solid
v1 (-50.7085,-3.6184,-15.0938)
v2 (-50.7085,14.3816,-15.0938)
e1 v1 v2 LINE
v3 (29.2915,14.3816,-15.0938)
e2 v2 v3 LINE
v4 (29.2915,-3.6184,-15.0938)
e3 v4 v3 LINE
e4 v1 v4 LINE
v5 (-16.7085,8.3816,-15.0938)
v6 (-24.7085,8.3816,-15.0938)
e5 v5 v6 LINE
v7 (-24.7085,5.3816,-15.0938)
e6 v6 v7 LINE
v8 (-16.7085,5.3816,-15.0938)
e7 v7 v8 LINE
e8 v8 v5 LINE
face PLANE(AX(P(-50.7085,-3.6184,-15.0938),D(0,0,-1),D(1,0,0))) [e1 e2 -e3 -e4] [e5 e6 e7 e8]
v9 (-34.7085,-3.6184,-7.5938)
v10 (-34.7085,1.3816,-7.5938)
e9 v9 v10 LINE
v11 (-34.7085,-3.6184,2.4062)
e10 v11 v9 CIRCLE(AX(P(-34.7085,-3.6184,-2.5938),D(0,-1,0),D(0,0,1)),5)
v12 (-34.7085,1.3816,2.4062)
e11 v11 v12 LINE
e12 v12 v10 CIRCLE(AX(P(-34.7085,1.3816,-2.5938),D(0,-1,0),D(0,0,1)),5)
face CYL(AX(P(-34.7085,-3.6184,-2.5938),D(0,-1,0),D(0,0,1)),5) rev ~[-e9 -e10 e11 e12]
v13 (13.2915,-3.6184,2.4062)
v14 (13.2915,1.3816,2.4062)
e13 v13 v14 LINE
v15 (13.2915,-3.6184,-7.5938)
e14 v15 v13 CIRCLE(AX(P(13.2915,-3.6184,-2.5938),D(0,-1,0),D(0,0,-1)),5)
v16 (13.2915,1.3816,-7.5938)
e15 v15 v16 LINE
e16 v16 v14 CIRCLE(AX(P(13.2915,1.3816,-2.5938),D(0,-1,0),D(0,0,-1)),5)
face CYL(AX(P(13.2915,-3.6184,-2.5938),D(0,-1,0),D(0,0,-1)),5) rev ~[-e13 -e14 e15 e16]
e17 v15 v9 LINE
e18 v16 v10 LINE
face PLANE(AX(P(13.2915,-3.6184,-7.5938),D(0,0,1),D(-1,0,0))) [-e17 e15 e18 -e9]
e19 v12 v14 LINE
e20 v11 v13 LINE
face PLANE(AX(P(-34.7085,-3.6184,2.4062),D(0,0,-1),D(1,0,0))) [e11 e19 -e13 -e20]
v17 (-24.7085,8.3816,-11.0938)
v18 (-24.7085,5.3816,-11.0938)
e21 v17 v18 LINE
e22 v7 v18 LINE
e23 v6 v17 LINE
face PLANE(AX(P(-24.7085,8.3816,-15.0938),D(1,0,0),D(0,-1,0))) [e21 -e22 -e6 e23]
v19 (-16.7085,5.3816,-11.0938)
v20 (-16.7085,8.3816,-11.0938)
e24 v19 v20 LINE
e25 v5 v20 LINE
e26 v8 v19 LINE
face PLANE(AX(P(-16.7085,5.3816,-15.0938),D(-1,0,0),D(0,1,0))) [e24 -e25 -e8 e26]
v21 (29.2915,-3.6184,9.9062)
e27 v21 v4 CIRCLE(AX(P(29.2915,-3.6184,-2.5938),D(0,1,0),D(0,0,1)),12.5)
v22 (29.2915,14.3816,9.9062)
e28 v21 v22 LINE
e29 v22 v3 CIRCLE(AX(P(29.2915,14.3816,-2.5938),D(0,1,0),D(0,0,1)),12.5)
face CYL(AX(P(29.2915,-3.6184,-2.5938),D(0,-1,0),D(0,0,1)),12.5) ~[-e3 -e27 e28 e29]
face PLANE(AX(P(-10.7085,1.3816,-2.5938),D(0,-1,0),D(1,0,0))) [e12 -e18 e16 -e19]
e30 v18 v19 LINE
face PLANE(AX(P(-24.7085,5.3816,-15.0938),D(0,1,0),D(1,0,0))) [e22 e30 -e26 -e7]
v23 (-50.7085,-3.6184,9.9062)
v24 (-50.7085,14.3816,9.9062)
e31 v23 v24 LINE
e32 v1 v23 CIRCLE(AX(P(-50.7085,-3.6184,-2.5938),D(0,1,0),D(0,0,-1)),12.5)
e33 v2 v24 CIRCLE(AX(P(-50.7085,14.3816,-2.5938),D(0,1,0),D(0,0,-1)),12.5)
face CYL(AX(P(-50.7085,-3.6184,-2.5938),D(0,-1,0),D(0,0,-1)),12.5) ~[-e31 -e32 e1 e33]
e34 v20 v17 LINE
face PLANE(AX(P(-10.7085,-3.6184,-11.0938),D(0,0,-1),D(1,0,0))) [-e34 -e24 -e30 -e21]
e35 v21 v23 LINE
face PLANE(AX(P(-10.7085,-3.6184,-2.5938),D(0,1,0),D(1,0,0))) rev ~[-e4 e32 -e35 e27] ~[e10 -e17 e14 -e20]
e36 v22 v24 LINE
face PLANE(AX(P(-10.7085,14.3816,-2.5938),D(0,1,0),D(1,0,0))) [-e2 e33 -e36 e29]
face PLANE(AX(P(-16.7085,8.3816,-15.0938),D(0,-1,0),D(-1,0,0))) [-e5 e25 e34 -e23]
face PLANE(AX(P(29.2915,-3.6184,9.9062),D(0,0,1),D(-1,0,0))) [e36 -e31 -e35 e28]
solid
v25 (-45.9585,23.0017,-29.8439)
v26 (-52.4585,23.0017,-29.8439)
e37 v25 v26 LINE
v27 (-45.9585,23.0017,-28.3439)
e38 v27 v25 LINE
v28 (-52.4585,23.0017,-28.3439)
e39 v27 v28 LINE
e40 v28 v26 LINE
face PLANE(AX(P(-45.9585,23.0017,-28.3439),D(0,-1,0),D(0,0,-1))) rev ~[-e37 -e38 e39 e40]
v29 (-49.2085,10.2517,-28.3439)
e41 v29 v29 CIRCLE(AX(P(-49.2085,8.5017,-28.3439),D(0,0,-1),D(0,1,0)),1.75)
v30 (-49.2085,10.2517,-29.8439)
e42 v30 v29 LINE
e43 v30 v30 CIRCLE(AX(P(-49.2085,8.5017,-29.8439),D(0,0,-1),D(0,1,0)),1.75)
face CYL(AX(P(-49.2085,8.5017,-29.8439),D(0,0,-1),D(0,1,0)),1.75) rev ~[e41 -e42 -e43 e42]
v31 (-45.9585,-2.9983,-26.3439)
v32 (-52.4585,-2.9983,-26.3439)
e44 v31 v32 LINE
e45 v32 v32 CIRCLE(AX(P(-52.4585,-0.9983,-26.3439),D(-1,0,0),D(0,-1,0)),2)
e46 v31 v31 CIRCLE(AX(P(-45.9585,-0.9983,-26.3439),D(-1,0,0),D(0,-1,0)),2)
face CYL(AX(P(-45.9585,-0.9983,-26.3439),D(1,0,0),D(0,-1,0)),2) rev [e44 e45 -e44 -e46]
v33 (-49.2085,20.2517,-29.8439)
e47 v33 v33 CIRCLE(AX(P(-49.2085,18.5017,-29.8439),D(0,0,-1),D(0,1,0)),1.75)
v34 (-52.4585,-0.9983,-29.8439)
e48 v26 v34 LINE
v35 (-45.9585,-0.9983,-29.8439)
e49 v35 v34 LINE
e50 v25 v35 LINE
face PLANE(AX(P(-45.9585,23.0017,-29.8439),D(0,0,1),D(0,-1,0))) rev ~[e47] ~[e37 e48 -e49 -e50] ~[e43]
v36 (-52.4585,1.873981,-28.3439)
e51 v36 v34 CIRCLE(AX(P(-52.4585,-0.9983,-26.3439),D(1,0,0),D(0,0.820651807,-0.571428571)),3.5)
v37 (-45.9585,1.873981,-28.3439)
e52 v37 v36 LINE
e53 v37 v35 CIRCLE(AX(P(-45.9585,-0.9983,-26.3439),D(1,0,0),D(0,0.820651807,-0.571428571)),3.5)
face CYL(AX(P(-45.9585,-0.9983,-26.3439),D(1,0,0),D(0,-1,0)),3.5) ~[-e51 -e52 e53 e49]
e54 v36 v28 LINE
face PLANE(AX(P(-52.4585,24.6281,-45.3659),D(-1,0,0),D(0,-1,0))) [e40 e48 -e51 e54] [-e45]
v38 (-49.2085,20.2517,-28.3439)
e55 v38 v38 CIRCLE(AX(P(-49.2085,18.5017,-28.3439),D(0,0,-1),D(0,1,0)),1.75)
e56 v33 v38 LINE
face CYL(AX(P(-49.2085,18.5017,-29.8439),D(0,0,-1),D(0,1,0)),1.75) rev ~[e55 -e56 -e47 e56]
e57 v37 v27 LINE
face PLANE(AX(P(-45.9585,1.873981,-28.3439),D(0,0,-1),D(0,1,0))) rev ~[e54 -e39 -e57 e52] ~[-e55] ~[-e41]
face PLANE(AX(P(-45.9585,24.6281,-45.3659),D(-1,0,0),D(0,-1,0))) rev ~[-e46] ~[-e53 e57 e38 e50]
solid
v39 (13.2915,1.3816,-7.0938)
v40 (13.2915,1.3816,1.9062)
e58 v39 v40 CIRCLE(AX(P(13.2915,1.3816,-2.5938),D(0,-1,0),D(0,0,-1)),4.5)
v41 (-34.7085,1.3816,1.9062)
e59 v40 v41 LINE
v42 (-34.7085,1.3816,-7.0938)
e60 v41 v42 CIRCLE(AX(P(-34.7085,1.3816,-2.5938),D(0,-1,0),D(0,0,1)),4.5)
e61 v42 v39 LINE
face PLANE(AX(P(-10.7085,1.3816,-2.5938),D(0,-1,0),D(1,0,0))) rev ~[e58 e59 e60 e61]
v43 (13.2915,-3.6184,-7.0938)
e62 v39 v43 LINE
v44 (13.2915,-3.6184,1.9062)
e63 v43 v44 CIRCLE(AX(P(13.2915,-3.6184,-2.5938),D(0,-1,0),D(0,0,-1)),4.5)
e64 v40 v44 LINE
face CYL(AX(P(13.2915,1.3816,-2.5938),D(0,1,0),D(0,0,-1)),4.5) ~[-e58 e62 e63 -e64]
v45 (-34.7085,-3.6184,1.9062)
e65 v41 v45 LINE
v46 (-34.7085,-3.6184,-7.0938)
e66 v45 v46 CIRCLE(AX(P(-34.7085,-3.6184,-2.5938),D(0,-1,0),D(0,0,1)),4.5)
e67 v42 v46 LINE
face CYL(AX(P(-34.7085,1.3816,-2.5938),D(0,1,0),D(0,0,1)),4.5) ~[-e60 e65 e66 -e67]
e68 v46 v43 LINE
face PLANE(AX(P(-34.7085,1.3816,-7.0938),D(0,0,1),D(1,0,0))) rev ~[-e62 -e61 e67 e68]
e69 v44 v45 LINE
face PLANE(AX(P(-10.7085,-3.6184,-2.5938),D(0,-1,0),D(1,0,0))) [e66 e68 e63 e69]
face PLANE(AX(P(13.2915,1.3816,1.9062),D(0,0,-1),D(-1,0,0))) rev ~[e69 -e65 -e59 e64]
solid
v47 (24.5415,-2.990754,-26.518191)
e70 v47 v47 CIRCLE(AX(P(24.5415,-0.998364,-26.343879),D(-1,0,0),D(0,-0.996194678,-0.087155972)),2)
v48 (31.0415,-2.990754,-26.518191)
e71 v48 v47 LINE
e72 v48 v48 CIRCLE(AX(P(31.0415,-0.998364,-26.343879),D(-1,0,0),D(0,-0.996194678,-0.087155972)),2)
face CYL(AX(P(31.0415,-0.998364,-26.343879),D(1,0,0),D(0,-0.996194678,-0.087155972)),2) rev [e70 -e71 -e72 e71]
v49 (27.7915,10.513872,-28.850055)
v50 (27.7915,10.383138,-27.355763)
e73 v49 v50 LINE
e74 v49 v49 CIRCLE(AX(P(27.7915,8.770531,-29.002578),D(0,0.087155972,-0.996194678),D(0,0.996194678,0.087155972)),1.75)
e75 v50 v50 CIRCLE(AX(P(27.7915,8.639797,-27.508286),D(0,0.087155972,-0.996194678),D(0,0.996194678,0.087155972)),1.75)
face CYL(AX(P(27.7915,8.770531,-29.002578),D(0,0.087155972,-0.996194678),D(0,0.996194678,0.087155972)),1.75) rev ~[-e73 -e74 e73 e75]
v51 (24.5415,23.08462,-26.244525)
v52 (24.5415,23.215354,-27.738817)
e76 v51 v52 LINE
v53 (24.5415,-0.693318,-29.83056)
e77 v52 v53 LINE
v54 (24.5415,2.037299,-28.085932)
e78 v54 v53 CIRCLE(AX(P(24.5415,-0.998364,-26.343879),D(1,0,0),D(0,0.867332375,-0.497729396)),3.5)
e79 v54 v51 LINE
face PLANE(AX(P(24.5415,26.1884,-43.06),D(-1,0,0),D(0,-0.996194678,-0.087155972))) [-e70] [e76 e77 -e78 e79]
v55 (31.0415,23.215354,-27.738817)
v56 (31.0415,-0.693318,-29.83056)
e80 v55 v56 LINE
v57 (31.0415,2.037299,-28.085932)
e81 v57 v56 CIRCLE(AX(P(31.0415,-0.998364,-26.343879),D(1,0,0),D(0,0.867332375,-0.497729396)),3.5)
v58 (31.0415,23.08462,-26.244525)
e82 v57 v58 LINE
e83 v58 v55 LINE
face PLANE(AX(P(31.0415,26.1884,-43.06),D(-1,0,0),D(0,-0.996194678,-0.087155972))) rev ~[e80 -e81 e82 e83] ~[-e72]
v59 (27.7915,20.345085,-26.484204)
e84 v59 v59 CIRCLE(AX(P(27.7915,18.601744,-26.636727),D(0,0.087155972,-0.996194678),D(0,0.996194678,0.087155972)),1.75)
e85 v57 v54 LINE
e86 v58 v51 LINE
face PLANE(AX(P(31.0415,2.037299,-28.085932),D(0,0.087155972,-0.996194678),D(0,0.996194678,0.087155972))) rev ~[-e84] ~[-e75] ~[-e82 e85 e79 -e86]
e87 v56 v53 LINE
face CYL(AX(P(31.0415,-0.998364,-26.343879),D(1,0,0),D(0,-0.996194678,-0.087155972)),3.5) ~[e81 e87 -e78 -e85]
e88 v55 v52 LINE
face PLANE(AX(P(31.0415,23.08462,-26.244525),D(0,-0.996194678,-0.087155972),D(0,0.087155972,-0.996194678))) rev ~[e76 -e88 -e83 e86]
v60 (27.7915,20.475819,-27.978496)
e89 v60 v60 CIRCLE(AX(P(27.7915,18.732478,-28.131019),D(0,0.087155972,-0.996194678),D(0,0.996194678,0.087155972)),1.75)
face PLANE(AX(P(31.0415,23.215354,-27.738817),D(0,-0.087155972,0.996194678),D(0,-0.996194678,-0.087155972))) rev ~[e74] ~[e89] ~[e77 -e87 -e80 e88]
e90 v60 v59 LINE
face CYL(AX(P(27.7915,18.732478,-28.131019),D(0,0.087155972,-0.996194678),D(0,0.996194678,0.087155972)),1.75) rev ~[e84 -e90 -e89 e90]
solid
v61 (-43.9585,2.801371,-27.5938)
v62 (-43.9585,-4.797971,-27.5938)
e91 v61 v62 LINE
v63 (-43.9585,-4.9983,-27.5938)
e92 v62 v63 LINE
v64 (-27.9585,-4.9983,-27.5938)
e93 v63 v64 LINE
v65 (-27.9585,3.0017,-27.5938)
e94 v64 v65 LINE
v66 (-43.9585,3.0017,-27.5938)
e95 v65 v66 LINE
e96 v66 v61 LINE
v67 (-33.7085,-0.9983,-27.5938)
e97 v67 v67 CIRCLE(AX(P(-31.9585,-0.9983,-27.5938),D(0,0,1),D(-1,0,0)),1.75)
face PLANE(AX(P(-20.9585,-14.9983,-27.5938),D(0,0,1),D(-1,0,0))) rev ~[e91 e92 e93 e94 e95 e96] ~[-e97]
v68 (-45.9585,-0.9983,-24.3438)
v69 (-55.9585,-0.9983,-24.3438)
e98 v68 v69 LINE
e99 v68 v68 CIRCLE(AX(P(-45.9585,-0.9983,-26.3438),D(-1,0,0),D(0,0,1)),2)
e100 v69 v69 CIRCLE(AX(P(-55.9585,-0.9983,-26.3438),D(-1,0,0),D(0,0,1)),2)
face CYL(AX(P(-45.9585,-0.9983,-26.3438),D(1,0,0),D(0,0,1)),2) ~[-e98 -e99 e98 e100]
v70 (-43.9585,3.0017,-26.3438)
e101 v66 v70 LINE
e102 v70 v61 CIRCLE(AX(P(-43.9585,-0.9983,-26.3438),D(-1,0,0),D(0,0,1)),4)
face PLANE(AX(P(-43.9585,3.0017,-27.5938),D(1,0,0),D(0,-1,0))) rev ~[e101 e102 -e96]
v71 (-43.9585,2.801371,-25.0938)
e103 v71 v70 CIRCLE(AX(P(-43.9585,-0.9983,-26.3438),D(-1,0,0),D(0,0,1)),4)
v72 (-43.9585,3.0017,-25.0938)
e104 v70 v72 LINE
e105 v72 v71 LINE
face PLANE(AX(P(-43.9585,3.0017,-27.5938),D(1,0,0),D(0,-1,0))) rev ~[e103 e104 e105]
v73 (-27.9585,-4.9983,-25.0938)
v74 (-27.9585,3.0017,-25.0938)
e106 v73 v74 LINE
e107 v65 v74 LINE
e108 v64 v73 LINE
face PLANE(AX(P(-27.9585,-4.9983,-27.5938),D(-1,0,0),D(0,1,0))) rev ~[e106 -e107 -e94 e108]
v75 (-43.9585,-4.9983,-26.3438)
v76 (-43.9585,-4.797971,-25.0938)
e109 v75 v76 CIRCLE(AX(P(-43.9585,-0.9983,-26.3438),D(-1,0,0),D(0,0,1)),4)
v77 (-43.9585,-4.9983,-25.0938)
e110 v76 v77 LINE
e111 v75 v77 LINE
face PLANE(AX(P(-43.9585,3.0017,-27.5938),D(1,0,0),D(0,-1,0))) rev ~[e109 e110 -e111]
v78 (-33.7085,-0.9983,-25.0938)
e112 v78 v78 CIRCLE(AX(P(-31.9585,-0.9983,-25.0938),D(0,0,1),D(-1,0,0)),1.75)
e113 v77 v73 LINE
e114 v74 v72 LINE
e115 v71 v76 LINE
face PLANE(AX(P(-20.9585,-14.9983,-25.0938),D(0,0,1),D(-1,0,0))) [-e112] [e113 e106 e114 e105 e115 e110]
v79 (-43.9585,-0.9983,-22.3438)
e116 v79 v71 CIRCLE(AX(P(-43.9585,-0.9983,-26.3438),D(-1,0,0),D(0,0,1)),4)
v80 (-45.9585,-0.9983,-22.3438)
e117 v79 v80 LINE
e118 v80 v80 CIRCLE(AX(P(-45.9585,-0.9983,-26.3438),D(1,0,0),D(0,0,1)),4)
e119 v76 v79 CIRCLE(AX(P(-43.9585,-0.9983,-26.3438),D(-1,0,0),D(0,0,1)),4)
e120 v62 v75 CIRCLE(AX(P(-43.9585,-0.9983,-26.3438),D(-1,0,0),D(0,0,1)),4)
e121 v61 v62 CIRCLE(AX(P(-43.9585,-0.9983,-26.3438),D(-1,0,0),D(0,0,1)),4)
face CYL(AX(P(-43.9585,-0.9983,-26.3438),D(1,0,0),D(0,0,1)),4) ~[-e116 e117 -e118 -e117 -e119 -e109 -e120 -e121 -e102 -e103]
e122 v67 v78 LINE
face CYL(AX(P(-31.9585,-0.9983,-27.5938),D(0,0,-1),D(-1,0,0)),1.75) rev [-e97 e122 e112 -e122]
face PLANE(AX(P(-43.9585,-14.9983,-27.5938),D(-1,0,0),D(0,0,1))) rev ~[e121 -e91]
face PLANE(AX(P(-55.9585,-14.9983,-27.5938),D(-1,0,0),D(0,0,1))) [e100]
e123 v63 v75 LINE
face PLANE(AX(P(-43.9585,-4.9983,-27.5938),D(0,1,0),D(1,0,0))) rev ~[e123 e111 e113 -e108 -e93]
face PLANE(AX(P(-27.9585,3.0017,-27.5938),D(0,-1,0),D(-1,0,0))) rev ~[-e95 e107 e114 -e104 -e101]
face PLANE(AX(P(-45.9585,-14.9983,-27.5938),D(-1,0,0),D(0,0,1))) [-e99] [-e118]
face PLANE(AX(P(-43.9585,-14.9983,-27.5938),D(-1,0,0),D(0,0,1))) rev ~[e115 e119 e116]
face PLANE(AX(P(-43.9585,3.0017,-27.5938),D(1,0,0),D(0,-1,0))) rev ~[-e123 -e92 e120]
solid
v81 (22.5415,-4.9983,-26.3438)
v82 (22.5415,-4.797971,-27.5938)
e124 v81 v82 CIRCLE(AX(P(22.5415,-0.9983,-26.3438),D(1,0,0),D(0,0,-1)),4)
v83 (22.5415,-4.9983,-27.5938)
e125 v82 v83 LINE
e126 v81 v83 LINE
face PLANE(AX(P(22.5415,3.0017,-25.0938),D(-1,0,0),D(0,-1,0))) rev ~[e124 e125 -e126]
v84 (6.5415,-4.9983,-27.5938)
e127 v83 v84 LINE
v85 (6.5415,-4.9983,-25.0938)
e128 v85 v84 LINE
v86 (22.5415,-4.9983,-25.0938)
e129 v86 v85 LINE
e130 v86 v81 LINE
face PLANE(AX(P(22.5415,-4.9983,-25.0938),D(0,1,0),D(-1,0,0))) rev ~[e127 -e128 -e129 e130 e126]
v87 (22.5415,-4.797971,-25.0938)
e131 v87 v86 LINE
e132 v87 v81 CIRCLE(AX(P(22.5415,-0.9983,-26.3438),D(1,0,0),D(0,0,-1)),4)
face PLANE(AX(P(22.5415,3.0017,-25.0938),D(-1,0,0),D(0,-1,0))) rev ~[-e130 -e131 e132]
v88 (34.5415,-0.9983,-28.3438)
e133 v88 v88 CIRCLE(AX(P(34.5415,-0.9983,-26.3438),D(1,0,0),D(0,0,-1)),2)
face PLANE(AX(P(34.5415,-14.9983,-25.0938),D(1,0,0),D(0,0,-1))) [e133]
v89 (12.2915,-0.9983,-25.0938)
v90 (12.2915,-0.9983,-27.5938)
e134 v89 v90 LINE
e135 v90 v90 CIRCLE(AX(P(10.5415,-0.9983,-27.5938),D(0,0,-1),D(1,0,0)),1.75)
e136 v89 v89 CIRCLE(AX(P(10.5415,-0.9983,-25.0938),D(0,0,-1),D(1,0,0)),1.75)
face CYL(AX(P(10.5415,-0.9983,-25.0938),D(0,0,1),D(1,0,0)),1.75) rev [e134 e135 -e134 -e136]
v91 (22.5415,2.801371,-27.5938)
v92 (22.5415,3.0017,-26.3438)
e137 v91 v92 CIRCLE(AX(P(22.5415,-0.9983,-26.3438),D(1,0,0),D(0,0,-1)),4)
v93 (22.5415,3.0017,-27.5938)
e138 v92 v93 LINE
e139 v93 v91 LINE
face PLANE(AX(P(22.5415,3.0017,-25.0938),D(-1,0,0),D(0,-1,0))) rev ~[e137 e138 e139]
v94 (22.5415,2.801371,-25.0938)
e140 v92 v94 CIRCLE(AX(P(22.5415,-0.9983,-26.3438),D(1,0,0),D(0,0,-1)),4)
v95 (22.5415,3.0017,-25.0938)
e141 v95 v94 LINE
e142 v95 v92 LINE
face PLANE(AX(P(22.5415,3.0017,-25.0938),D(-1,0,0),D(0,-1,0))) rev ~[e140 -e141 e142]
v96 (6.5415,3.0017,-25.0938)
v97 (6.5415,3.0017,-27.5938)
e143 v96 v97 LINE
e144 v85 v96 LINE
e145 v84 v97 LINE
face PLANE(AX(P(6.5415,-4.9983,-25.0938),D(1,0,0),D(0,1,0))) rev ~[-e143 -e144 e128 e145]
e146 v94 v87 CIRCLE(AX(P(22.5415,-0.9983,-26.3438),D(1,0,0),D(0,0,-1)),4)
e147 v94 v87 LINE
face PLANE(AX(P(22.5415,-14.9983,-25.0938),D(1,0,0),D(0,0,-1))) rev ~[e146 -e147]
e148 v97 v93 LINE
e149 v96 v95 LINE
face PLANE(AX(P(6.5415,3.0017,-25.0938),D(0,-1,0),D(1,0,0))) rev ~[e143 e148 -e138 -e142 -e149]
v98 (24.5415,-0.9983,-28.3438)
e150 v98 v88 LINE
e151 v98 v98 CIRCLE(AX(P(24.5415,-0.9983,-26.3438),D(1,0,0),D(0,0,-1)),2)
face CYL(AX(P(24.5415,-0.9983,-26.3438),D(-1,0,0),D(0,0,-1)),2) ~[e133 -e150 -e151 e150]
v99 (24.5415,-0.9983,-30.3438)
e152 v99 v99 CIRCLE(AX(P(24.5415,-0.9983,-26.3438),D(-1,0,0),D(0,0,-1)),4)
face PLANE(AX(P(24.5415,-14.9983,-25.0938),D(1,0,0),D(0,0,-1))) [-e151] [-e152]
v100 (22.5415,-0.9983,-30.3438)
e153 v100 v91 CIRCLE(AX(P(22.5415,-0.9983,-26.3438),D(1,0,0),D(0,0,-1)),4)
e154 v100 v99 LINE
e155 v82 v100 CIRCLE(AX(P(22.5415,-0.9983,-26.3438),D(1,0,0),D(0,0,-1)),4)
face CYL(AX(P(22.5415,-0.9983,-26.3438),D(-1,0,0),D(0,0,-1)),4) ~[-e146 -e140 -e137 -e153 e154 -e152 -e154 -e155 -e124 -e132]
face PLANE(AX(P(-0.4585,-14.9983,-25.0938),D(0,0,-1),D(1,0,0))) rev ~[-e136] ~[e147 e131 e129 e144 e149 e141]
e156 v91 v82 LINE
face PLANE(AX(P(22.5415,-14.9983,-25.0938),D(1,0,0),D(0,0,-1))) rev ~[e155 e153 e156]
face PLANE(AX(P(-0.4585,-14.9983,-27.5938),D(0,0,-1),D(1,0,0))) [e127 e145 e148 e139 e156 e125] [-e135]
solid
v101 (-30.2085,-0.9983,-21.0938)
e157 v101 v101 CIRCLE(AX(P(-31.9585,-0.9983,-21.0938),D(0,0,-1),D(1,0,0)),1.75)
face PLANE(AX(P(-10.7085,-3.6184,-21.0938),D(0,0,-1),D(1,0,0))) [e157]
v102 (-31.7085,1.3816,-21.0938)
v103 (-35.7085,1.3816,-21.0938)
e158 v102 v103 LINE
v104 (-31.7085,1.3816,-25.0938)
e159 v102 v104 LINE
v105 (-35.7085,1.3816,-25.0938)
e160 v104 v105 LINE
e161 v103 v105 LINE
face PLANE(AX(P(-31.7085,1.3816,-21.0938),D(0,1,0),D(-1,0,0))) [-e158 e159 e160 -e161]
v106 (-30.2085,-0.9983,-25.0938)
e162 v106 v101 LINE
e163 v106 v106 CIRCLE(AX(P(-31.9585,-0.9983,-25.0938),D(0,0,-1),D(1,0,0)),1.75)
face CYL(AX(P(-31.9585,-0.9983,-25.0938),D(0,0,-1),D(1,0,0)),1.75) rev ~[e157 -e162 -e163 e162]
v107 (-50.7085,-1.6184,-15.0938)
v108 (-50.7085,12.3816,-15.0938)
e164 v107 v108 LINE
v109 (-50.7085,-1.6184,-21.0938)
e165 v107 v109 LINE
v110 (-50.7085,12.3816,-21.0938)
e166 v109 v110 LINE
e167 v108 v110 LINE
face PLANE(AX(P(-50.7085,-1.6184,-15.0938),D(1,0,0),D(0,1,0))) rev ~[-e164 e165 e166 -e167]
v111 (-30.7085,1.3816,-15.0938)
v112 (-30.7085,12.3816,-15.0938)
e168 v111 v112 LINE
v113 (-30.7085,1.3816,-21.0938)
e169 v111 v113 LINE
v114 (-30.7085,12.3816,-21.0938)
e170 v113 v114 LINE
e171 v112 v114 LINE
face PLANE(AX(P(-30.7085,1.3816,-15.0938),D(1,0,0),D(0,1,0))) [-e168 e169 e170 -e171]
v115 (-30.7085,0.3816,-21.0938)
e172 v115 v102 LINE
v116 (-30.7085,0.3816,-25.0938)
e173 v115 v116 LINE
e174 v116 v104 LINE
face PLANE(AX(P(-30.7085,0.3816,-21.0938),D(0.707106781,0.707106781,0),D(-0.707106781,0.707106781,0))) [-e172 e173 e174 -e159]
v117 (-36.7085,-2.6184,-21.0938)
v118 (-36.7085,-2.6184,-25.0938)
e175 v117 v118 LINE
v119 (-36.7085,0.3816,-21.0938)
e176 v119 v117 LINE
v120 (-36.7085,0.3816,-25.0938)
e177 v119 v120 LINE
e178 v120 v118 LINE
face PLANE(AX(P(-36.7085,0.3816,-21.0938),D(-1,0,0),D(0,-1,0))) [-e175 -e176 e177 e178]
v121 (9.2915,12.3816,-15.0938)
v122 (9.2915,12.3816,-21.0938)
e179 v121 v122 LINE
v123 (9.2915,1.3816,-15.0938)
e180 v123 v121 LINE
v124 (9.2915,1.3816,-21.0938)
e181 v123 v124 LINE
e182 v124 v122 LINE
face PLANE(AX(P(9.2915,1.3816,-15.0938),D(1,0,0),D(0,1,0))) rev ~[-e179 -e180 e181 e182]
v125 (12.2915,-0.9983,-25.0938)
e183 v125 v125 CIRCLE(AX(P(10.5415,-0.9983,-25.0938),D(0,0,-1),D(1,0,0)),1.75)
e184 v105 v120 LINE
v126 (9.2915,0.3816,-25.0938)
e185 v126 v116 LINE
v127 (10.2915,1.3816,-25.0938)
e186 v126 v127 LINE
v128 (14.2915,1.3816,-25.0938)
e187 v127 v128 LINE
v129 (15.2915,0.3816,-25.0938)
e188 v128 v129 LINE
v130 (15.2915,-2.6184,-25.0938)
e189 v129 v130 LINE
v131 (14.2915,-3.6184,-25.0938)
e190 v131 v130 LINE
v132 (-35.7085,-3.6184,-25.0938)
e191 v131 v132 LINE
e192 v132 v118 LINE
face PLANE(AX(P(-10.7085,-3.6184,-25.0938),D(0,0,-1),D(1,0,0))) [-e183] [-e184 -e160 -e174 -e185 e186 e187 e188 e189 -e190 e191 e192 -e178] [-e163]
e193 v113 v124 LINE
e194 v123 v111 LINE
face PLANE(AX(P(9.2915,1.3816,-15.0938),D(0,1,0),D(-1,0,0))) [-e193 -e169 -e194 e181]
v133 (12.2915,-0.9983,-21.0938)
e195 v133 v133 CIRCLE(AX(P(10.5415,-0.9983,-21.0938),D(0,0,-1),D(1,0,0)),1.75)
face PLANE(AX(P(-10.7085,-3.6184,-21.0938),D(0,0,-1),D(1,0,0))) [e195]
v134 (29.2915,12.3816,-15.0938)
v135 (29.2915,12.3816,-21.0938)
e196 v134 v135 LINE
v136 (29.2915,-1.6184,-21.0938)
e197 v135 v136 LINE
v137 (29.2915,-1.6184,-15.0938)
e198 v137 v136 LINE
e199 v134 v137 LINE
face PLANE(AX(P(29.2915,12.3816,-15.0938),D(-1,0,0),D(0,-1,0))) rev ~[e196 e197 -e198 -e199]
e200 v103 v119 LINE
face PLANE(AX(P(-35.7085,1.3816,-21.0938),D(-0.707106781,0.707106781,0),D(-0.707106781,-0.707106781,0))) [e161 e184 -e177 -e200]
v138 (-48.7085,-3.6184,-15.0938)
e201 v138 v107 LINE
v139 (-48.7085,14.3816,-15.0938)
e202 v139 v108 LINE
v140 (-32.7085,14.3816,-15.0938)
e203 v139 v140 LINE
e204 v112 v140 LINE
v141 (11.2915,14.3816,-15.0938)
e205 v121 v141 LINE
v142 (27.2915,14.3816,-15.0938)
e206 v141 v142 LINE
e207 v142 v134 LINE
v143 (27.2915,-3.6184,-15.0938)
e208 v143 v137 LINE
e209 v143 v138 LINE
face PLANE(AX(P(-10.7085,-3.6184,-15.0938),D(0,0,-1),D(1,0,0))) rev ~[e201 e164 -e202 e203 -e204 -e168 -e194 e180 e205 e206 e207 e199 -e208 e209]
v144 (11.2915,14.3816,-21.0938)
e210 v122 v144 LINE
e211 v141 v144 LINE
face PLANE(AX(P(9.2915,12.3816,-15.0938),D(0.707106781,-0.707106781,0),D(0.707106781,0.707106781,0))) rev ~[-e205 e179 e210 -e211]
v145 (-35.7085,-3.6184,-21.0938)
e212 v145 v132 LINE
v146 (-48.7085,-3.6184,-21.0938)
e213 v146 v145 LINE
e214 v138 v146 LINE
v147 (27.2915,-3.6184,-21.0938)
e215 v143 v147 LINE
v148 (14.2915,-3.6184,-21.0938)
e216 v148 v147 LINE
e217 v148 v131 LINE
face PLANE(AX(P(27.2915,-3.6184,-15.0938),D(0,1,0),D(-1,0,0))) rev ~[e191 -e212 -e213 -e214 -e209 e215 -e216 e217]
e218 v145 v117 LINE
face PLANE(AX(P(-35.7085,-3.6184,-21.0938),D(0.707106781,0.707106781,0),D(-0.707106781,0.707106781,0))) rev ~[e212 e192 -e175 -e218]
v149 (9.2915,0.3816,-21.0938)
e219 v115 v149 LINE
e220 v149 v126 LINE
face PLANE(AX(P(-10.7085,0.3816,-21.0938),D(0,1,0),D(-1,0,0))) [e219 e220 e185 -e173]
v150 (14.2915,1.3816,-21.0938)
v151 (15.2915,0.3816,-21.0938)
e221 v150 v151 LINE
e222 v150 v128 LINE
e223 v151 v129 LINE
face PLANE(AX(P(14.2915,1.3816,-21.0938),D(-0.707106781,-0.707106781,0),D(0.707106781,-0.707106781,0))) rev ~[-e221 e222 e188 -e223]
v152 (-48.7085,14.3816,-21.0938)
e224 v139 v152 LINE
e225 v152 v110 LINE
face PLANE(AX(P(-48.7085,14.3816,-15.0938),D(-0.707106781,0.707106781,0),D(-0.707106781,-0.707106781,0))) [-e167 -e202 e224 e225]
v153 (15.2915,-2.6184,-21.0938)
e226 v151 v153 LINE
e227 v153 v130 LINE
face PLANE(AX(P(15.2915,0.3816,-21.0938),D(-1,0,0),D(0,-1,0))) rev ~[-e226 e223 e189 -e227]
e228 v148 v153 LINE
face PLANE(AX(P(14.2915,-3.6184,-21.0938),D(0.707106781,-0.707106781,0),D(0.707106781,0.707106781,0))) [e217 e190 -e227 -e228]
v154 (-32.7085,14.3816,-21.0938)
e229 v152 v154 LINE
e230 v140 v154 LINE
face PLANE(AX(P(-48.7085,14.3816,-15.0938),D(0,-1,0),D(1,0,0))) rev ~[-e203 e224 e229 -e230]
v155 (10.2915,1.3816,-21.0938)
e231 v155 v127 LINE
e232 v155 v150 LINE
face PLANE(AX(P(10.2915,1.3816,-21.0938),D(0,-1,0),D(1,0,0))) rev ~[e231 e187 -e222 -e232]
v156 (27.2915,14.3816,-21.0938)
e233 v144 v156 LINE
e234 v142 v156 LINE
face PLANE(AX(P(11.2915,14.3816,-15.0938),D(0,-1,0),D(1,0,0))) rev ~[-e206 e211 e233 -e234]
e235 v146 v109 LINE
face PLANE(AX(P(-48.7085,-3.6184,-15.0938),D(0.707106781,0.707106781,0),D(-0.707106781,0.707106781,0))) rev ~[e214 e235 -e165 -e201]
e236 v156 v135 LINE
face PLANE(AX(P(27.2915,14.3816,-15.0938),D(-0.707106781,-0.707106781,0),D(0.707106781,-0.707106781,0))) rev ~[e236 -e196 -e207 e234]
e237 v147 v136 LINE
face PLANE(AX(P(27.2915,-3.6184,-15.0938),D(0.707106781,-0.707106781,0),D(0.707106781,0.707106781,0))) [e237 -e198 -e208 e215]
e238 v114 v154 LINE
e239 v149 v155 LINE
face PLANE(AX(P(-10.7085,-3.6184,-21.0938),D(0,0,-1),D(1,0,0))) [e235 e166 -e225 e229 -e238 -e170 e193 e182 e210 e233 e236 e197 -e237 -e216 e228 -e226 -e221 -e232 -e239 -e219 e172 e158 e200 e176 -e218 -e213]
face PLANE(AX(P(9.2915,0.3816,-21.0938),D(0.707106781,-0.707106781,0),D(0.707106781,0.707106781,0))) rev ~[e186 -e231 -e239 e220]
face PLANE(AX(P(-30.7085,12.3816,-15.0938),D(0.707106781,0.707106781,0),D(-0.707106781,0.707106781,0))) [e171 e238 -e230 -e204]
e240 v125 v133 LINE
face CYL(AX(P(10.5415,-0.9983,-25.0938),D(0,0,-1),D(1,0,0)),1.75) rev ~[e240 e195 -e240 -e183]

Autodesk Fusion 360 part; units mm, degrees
sketch "草图1" plane through (0, 0, 0) normal (0, 1, 0) x (1, 0, 0)
  line L0 (40, -12.5) -> (-40, -12.5)
  line L1 (-40, -12.5) -> (-40, 12.5)
  line L2 (-40, 12.5) -> (40, 12.5)
  line L3 (40, 12.5) -> (40, -12.5)
  line L4 (40, -12.5) -> (-40, 12.5) construction
  line L5 (-40, -12.5) -> (40, 12.5) construction
  arc A0 (-40, 12.5) -> (-40, -12.5) centre (-40, 0) ccw
  arc A1 (40, -12.5) -> (40, 12.5) centre (40, 0) ccw
  dimension "d1" = 25
  dimension "d2" = 80
extrude "拉伸1" add sketch "草图1" along normal blind 18 makes body 1
sketch "草图2" plane through (0, 0, 0) normal (0, -1, 0) x (1, 0, 0)
  arc A0 (-40, 12.5) -> (-40, -12.5) centre (-40, 0) ccw
  line L0 (-40, -12.5) -> (40, -12.5)
  arc A1 (40, -12.5) -> (40, 12.5) centre (40, 0) ccw
  line L1 (40, 12.5) -> (-40, 12.5)
  line L2 (24, -5) -> (-24, -5)
  line L3 (-24, -5) -> (-24, 5)
  line L4 (-24, 5) -> (24, 5)
  line L5 (24, 5) -> (24, -5)
  line L6 (24, -5) -> (-24, 5) construction
  line L7 (-24, -5) -> (24, 5) construction
  arc A2 (-24, 5) -> (-24, -5) centre (-24, 0) ccw
  arc A3 (24, -5) -> (24, 5) centre (24, 0) ccw
  dimension "d5" = 10
  dimension "d6" = 48
extrude "拉伸2" cut sketch "草图2" against normal blind 5 contours L2 L3 L4 L5 | L5 A3 | L3 A2 bodies 1
sketch "草图3" plane through (0, 5, 0) normal (0, -1, 0) x (1, 0, 0)
  arc A0 (-24, 5) -> (-24, -5) centre (-24, 0) ccw
  line L0 (-24, -5) -> (24, -5)
  arc A1 (24, -5) -> (24, 5) centre (24, 0) ccw
  line L1 (24, 5) -> (-24, 5)
  line L2 (-24, -4.5) -> (24, -4.5)
  arc A2 (24, -4.5) -> (24, 4.5) centre (24, 0) ccw
  line L3 (24, 4.5) -> (-24, 4.5)
  arc A3 (-24, 4.5) -> (-24, -4.5) centre (-24, 0) ccw
  dimension "d9" = -0.5
extrude "拉伸3" add sketch "草图3" along normal blind 5 separate body contours L2 A2 L3 A3 makes body 2
sketch "草图4" plane through (0, 0, -12.5) normal (0, 0, -1) x (1, 0, 0)
  line L0 (40, 0) -> (-40, 0)
  line L1 (-40, 0) -> (-40, -18)
  line L2 (-40, -18) -> (40, -18)
  line L3 (40, -18) -> (40, 0)
  line L4 (0, 20) -> (0, -38.0009)
  line L5 (-38, 0) -> (-20, 0)
  line L6 (-20, 0) -> (-20, -16)
  line L7 (-22, -18) -> (-38, -18)
  line L8 (-40, -16) -> (-40, -2)
  line L9 (-38, -18) -> (-40, -16)
  line L10 (-20, -16) -> (-22, -18)
  line L11 (-38, 0) -> (-40, -2)
  line L12 (38, 0) -> (20, 0)
  line L13 (38, 0) -> (40, -2)
  line L14 (40, -16) -> (40, -2)
  line L15 (20, 0) -> (20, -16)
  line L16 (20, -16) -> (22, -18)
  line L17 (22, -18) -> (38, -18)
  line L18 (38, -18) -> (40, -16)
  line L19 (-20, 0) -> (20, 0)
  line L20 (20, 0) -> (20, -5)
  line L21 (20, -5) -> (-20, -5)
  line L22 (-20, -5) -> (-20, 0)
  point P0 (-40, 0)
  point P1 (-20, -18)
  point P2 (-40, -18)
  dimension "d12" = 2
  dimension "d13" = 2
  dimension "d14" = 2
  dimension "d15" = 2
  dimension "d16" = 2
  dimension "d17" = 2
  dimension "d18" = 40
  dimension "d19" = 16
  dimension "d20" = 5
extrude "拉伸4" add sketch "草图4" along normal blind 6 separate body contours L0 L2 L3 L12 L13 L14 L15 L16 L17 L18 L20 | L0 L4 L15 L19 L20 L21 | L0 L4 L6 L19 L21 L22 | L0 L1 L2 L5 L6 L7 L8 L9 L10 L11 L22 makes body 3
sketch "草图5" plane through (0, 0, -18.5) normal (0, 0, -1) x (1, 0, 0)
  line L0 (20, -16) -> (22, -18)
  line L1 (22, -18) -> (38, -18)
  line L2 (38, -18) -> (40, -16)
  line L3 (40, -16) -> (40, -2)
  line L4 (40, -2) -> (38, 0)
  line L5 (38, 0) -> (-38, 0)
  line L6 (-38, 0) -> (-40, -2)
  line L7 (-40, -2) -> (-40, -16)
  line L8 (-40, -16) -> (-38, -18)
  line L9 (-38, -18) -> (-22, -18)
  line L10 (-22, -18) -> (-20, -16)
  line L11 (-20, -16) -> (-20, -5)
  line L12 (-20, -5) -> (20, -5)
  line L13 (20, -5) -> (20, -16)
  line L14 (0, 7) -> (0, -30)
  line L15 (-25, 0) -> (-20, 0)
  line L16 (-20, 0) -> (-20, -4)
  line L17 (-21, -5) -> (-25, -5)
  line L18 (-26, -4) -> (-26, -1)
  line L19 (-25, 0) -> (-26, -1)
  line L20 (-25, -5) -> (-26, -4)
  line L21 (-20, -4) -> (-21, -5)
  line L22 (25, 0) -> (20, 0)
  line L23 (25, 0) -> (26, -1)
  line L24 (26, -4) -> (26, -1)
  line L25 (25, -5) -> (26, -4)
  line L26 (21, -5) -> (25, -5)
  line L27 (20, -4) -> (21, -5)
  line L28 (20, 0) -> (20, -4)
  line L29 (-20, 0) -> (20, 0)
  line L30 (20, 0) -> (20, -4)
  line L31 (20, -4) -> (-20, -4)
  line L32 (-20, -4) -> (-20, 0)
  point P0 (-26, 0)
  point P1 (-20, -5)
  point P2 (-26, -5)
  dimension "d23" = 1
  dimension "d24" = 1
  dimension "d25" = 1
  dimension "d26" = 1
  dimension "d27" = 1
  dimension "d28" = 1
  dimension "d29" = 52
  dimension "d30" = 4
extrude "拉伸5" add sketch "草图5" along normal blind 4 contours L5 L14 L16 L29 L31 L32 | L5 L14 L28 L29 L30 L31 | L5 L22 L23 L24 L25 L26 L27 L28 L30 | L5 L15 L16 L17 L18 L19 L20 L21 L32 bodies 3
sketch "草图6" plane through (0, 0, -12.5) normal (0, 0, -1) x (1, 0, 0)
  line L0 (40, 0) -> (-40, 0)
  line L1 (-40, 0) -> (-40, -18)
  line L2 (-40, -18) -> (40, -18)
  line L3 (40, -18) -> (40, 0)
  line L4 (-6, -12) -> (-14, -12)
  line L5 (-14, -12) -> (-14, -9)
  line L6 (-14, -9) -> (-6, -9)
  line L7 (-6, -9) -> (-6, -12)
  line L8 (-20, -16) -> (-20, -5)
  dimension "d33" = 3
  dimension "d34" = 8
  dimension "d35" = 6
  dimension "d36" = 6
extrude "拉伸6" cut sketch "草图6" against normal blind 4 contours L4 L5 L6 L7 bodies 1
sketch "草图7" plane through (0, 0, -22.5) normal (0, 0, -1) x (1, 0, 0)
  line L0 (21, -5) -> (25, -5)
  line L1 (25, -5) -> (26, -4)
  line L2 (26, -4) -> (26, -1)
  line L3 (26, -1) -> (25, 0)
  line L4 (25, 0) -> (-25, 0)
  line L5 (-25, 0) -> (-26, -1)
  line L6 (-26, -1) -> (-26, -4)
  line L7 (-26, -4) -> (-25, -5)
  line L8 (-25, -5) -> (-21, -5)
  line L9 (-21, -5) -> (-20, -4)
  line L10 (-20, -4) -> (20, -4)
  line L11 (20, -4) -> (21, -5)
  circle A0 centre (21.25, -2.6201) radius 1.75
  line L12 (0, -19) -> (0, 10)
  circle A1 centre (-21.25, -2.6201) radius 1.75
  dimension "d39" = 3.5
  dimension "d40" = 42.5
extrude "拉伸7" cut sketch "草图7" against normal blind 4 contours A0 | A1 bodies 3
copy_body "实体->零部件1" bodies 1 removing the originals makes body 4 in component "Component'"
copy_body "实体->零部件2" bodies 2 removing the originals makes body 5 in component "Component''"
copy_body "实体->零部件3" bodies 3 removing the originals makes body 6 in component "Component'''"
sketch "草图8" plane through (0, 0, 0) normal (0, 1, 0) x (1, 0, 0)
  line L0 (23, -10) -> (7, -10)
  line L1 (7, -10) -> (7, -18)
  line L2 (7, -18) -> (23, -18)
  line L3 (23, -18) -> (23, -10)
  circle A0 centre (11, -14) radius 1.75
  dimension "d43" = 8
  dimension "d44" = 16
  dimension "d45" = 3.5
  dimension "d46" = 4
  dimension "d47" = 4
extrude "拉伸8" add sketch "草图8" along normal blind 2.5 separate body makes body 7
sketch "草图9" plane through (23, 0, 0) normal (1, 0, 0) x (0, 1, 0)
  line L0 (0, 18) -> (0, 10)
  line L1 (0, 10) -> (2.5, 10)
  line L2 (2.5, 10) -> (2.5, 18)
  line L3 (2.5, 18) -> (0, 18)
  circle A0 centre (1.25, 14) radius 4
  dimension "d50" = 8
  dimension "d51" = 1.25
extrude "拉伸9" add sketch "草图9" along normal blind 2 contours L0 L2 A0 | L0 A0 | L2 A0 bodies 7
sketch "草图10" plane through (25, 0, 0) normal (1, 0, 0) x (0, 1, 0)
  circle A0 centre (1.25, 14) radius 4
  circle A1 centre (1.25, 14) radius 2
  dimension "d54" = 4
extrude "拉伸10" add sketch "草图10" along normal blind 10 contours A1 bodies 7
copy_body "实体->零部件4" bodies 7 removing the originals makes body 8 in component "Component''''"
sketch "草图11" plane through (0, 0, 0) normal (0, 1, 0) x (1, 0, 0)
  line L0 (25.6264, 17.022) -> (1.6264, 17.022)
  line L1 (1.6264, 17.022) -> (1.6264, 15.522)
  line L2 (1.6264, 15.522) -> (25.6264, 15.522)
  line L3 (25.6264, 15.522) -> (25.6264, 17.022)
  circle A0 centre (25.6264, 19.022) radius 3.5
  circle A1 centre (25.6264, 19.022) radius 2
  dimension "d57" = 7
  dimension "d58" = 1.5
  dimension "d59" = 24
  dimension "d60" = 4
extrude "拉伸11" add sketch "草图11" along normal blind 6.5 separate body makes body 9
sketch "草图12" plane through (0, 0, -15.522) normal (0, 0, 1) x (-1, 0, 0)
  line L0 (-1.6264, 0) -> (-25.6264, 0)
  line L1 (-25.6264, 0) -> (-25.6264, -6.5)
  line L2 (-25.6264, -6.5) -> (-1.6264, -6.5)
  line L3 (-1.6264, -6.5) -> (-1.6264, 0)
  circle A0 centre (-16.1264, -3.25) radius 1.75
  circle A1 centre (-6.1264, -3.25) radius 1.75
  dimension "d63" = 3.5
  dimension "d64" = 3.5
  dimension "d65" = 3.25
  dimension "d66" = 3.25
  dimension "d67" = 4.5
  dimension "d68" = 14.5
extrude "拉伸12" cut sketch "草图12" against normal blind 1.5 contours A0 | A1 bodies 9
copy_body "实体->零部件5" bodies 9 removing the originals makes body 10 in component "Component'''''"
component "Component'" placed x (1, 0, 0) y (0, 1, 0) z (0, 0, 1) at (-10.7085, -3.6184, -2.5938)
component "Component''" placed x (1, 0, 0) y (0, 1, 0) z (0, 0, 1) at (-10.7085, -3.6184, -2.5938)
component "Component'''" placed x (1, 0, 0) y (0, 1, 0) z (0, 0, 1) at (-10.7085, -3.6184, -2.5938)
component "Component''''" placed x (1, 0, 0) y (0, 0, -1) z (0, 1, 0) at (-0.4585, -14.9983, -25.0938)
component "Component'''''" placed x (0, -0.996195, -0.087156) y (-1, 0, 0) z (0, 0.087156, -0.996195) at (31.0415, 26.1884, -43.06)
component "Component''''" placed x (-1, 0, 0) y (0, 0, 1) z (0, 1, 0) at (-20.9585, -14.9983, -27.5938)
component "Component'''''" placed x (0, -1, 0) y (-1, 0, 0) z (0, 0, -1) at (-45.9585, 24.6281, -45.3659)
equation "d13 = d12"
equation "d15 = d14"
equation "d17 = d16"
equation "d24 = d23"
equation "d26 = d25"
equation "d28 = d27"
